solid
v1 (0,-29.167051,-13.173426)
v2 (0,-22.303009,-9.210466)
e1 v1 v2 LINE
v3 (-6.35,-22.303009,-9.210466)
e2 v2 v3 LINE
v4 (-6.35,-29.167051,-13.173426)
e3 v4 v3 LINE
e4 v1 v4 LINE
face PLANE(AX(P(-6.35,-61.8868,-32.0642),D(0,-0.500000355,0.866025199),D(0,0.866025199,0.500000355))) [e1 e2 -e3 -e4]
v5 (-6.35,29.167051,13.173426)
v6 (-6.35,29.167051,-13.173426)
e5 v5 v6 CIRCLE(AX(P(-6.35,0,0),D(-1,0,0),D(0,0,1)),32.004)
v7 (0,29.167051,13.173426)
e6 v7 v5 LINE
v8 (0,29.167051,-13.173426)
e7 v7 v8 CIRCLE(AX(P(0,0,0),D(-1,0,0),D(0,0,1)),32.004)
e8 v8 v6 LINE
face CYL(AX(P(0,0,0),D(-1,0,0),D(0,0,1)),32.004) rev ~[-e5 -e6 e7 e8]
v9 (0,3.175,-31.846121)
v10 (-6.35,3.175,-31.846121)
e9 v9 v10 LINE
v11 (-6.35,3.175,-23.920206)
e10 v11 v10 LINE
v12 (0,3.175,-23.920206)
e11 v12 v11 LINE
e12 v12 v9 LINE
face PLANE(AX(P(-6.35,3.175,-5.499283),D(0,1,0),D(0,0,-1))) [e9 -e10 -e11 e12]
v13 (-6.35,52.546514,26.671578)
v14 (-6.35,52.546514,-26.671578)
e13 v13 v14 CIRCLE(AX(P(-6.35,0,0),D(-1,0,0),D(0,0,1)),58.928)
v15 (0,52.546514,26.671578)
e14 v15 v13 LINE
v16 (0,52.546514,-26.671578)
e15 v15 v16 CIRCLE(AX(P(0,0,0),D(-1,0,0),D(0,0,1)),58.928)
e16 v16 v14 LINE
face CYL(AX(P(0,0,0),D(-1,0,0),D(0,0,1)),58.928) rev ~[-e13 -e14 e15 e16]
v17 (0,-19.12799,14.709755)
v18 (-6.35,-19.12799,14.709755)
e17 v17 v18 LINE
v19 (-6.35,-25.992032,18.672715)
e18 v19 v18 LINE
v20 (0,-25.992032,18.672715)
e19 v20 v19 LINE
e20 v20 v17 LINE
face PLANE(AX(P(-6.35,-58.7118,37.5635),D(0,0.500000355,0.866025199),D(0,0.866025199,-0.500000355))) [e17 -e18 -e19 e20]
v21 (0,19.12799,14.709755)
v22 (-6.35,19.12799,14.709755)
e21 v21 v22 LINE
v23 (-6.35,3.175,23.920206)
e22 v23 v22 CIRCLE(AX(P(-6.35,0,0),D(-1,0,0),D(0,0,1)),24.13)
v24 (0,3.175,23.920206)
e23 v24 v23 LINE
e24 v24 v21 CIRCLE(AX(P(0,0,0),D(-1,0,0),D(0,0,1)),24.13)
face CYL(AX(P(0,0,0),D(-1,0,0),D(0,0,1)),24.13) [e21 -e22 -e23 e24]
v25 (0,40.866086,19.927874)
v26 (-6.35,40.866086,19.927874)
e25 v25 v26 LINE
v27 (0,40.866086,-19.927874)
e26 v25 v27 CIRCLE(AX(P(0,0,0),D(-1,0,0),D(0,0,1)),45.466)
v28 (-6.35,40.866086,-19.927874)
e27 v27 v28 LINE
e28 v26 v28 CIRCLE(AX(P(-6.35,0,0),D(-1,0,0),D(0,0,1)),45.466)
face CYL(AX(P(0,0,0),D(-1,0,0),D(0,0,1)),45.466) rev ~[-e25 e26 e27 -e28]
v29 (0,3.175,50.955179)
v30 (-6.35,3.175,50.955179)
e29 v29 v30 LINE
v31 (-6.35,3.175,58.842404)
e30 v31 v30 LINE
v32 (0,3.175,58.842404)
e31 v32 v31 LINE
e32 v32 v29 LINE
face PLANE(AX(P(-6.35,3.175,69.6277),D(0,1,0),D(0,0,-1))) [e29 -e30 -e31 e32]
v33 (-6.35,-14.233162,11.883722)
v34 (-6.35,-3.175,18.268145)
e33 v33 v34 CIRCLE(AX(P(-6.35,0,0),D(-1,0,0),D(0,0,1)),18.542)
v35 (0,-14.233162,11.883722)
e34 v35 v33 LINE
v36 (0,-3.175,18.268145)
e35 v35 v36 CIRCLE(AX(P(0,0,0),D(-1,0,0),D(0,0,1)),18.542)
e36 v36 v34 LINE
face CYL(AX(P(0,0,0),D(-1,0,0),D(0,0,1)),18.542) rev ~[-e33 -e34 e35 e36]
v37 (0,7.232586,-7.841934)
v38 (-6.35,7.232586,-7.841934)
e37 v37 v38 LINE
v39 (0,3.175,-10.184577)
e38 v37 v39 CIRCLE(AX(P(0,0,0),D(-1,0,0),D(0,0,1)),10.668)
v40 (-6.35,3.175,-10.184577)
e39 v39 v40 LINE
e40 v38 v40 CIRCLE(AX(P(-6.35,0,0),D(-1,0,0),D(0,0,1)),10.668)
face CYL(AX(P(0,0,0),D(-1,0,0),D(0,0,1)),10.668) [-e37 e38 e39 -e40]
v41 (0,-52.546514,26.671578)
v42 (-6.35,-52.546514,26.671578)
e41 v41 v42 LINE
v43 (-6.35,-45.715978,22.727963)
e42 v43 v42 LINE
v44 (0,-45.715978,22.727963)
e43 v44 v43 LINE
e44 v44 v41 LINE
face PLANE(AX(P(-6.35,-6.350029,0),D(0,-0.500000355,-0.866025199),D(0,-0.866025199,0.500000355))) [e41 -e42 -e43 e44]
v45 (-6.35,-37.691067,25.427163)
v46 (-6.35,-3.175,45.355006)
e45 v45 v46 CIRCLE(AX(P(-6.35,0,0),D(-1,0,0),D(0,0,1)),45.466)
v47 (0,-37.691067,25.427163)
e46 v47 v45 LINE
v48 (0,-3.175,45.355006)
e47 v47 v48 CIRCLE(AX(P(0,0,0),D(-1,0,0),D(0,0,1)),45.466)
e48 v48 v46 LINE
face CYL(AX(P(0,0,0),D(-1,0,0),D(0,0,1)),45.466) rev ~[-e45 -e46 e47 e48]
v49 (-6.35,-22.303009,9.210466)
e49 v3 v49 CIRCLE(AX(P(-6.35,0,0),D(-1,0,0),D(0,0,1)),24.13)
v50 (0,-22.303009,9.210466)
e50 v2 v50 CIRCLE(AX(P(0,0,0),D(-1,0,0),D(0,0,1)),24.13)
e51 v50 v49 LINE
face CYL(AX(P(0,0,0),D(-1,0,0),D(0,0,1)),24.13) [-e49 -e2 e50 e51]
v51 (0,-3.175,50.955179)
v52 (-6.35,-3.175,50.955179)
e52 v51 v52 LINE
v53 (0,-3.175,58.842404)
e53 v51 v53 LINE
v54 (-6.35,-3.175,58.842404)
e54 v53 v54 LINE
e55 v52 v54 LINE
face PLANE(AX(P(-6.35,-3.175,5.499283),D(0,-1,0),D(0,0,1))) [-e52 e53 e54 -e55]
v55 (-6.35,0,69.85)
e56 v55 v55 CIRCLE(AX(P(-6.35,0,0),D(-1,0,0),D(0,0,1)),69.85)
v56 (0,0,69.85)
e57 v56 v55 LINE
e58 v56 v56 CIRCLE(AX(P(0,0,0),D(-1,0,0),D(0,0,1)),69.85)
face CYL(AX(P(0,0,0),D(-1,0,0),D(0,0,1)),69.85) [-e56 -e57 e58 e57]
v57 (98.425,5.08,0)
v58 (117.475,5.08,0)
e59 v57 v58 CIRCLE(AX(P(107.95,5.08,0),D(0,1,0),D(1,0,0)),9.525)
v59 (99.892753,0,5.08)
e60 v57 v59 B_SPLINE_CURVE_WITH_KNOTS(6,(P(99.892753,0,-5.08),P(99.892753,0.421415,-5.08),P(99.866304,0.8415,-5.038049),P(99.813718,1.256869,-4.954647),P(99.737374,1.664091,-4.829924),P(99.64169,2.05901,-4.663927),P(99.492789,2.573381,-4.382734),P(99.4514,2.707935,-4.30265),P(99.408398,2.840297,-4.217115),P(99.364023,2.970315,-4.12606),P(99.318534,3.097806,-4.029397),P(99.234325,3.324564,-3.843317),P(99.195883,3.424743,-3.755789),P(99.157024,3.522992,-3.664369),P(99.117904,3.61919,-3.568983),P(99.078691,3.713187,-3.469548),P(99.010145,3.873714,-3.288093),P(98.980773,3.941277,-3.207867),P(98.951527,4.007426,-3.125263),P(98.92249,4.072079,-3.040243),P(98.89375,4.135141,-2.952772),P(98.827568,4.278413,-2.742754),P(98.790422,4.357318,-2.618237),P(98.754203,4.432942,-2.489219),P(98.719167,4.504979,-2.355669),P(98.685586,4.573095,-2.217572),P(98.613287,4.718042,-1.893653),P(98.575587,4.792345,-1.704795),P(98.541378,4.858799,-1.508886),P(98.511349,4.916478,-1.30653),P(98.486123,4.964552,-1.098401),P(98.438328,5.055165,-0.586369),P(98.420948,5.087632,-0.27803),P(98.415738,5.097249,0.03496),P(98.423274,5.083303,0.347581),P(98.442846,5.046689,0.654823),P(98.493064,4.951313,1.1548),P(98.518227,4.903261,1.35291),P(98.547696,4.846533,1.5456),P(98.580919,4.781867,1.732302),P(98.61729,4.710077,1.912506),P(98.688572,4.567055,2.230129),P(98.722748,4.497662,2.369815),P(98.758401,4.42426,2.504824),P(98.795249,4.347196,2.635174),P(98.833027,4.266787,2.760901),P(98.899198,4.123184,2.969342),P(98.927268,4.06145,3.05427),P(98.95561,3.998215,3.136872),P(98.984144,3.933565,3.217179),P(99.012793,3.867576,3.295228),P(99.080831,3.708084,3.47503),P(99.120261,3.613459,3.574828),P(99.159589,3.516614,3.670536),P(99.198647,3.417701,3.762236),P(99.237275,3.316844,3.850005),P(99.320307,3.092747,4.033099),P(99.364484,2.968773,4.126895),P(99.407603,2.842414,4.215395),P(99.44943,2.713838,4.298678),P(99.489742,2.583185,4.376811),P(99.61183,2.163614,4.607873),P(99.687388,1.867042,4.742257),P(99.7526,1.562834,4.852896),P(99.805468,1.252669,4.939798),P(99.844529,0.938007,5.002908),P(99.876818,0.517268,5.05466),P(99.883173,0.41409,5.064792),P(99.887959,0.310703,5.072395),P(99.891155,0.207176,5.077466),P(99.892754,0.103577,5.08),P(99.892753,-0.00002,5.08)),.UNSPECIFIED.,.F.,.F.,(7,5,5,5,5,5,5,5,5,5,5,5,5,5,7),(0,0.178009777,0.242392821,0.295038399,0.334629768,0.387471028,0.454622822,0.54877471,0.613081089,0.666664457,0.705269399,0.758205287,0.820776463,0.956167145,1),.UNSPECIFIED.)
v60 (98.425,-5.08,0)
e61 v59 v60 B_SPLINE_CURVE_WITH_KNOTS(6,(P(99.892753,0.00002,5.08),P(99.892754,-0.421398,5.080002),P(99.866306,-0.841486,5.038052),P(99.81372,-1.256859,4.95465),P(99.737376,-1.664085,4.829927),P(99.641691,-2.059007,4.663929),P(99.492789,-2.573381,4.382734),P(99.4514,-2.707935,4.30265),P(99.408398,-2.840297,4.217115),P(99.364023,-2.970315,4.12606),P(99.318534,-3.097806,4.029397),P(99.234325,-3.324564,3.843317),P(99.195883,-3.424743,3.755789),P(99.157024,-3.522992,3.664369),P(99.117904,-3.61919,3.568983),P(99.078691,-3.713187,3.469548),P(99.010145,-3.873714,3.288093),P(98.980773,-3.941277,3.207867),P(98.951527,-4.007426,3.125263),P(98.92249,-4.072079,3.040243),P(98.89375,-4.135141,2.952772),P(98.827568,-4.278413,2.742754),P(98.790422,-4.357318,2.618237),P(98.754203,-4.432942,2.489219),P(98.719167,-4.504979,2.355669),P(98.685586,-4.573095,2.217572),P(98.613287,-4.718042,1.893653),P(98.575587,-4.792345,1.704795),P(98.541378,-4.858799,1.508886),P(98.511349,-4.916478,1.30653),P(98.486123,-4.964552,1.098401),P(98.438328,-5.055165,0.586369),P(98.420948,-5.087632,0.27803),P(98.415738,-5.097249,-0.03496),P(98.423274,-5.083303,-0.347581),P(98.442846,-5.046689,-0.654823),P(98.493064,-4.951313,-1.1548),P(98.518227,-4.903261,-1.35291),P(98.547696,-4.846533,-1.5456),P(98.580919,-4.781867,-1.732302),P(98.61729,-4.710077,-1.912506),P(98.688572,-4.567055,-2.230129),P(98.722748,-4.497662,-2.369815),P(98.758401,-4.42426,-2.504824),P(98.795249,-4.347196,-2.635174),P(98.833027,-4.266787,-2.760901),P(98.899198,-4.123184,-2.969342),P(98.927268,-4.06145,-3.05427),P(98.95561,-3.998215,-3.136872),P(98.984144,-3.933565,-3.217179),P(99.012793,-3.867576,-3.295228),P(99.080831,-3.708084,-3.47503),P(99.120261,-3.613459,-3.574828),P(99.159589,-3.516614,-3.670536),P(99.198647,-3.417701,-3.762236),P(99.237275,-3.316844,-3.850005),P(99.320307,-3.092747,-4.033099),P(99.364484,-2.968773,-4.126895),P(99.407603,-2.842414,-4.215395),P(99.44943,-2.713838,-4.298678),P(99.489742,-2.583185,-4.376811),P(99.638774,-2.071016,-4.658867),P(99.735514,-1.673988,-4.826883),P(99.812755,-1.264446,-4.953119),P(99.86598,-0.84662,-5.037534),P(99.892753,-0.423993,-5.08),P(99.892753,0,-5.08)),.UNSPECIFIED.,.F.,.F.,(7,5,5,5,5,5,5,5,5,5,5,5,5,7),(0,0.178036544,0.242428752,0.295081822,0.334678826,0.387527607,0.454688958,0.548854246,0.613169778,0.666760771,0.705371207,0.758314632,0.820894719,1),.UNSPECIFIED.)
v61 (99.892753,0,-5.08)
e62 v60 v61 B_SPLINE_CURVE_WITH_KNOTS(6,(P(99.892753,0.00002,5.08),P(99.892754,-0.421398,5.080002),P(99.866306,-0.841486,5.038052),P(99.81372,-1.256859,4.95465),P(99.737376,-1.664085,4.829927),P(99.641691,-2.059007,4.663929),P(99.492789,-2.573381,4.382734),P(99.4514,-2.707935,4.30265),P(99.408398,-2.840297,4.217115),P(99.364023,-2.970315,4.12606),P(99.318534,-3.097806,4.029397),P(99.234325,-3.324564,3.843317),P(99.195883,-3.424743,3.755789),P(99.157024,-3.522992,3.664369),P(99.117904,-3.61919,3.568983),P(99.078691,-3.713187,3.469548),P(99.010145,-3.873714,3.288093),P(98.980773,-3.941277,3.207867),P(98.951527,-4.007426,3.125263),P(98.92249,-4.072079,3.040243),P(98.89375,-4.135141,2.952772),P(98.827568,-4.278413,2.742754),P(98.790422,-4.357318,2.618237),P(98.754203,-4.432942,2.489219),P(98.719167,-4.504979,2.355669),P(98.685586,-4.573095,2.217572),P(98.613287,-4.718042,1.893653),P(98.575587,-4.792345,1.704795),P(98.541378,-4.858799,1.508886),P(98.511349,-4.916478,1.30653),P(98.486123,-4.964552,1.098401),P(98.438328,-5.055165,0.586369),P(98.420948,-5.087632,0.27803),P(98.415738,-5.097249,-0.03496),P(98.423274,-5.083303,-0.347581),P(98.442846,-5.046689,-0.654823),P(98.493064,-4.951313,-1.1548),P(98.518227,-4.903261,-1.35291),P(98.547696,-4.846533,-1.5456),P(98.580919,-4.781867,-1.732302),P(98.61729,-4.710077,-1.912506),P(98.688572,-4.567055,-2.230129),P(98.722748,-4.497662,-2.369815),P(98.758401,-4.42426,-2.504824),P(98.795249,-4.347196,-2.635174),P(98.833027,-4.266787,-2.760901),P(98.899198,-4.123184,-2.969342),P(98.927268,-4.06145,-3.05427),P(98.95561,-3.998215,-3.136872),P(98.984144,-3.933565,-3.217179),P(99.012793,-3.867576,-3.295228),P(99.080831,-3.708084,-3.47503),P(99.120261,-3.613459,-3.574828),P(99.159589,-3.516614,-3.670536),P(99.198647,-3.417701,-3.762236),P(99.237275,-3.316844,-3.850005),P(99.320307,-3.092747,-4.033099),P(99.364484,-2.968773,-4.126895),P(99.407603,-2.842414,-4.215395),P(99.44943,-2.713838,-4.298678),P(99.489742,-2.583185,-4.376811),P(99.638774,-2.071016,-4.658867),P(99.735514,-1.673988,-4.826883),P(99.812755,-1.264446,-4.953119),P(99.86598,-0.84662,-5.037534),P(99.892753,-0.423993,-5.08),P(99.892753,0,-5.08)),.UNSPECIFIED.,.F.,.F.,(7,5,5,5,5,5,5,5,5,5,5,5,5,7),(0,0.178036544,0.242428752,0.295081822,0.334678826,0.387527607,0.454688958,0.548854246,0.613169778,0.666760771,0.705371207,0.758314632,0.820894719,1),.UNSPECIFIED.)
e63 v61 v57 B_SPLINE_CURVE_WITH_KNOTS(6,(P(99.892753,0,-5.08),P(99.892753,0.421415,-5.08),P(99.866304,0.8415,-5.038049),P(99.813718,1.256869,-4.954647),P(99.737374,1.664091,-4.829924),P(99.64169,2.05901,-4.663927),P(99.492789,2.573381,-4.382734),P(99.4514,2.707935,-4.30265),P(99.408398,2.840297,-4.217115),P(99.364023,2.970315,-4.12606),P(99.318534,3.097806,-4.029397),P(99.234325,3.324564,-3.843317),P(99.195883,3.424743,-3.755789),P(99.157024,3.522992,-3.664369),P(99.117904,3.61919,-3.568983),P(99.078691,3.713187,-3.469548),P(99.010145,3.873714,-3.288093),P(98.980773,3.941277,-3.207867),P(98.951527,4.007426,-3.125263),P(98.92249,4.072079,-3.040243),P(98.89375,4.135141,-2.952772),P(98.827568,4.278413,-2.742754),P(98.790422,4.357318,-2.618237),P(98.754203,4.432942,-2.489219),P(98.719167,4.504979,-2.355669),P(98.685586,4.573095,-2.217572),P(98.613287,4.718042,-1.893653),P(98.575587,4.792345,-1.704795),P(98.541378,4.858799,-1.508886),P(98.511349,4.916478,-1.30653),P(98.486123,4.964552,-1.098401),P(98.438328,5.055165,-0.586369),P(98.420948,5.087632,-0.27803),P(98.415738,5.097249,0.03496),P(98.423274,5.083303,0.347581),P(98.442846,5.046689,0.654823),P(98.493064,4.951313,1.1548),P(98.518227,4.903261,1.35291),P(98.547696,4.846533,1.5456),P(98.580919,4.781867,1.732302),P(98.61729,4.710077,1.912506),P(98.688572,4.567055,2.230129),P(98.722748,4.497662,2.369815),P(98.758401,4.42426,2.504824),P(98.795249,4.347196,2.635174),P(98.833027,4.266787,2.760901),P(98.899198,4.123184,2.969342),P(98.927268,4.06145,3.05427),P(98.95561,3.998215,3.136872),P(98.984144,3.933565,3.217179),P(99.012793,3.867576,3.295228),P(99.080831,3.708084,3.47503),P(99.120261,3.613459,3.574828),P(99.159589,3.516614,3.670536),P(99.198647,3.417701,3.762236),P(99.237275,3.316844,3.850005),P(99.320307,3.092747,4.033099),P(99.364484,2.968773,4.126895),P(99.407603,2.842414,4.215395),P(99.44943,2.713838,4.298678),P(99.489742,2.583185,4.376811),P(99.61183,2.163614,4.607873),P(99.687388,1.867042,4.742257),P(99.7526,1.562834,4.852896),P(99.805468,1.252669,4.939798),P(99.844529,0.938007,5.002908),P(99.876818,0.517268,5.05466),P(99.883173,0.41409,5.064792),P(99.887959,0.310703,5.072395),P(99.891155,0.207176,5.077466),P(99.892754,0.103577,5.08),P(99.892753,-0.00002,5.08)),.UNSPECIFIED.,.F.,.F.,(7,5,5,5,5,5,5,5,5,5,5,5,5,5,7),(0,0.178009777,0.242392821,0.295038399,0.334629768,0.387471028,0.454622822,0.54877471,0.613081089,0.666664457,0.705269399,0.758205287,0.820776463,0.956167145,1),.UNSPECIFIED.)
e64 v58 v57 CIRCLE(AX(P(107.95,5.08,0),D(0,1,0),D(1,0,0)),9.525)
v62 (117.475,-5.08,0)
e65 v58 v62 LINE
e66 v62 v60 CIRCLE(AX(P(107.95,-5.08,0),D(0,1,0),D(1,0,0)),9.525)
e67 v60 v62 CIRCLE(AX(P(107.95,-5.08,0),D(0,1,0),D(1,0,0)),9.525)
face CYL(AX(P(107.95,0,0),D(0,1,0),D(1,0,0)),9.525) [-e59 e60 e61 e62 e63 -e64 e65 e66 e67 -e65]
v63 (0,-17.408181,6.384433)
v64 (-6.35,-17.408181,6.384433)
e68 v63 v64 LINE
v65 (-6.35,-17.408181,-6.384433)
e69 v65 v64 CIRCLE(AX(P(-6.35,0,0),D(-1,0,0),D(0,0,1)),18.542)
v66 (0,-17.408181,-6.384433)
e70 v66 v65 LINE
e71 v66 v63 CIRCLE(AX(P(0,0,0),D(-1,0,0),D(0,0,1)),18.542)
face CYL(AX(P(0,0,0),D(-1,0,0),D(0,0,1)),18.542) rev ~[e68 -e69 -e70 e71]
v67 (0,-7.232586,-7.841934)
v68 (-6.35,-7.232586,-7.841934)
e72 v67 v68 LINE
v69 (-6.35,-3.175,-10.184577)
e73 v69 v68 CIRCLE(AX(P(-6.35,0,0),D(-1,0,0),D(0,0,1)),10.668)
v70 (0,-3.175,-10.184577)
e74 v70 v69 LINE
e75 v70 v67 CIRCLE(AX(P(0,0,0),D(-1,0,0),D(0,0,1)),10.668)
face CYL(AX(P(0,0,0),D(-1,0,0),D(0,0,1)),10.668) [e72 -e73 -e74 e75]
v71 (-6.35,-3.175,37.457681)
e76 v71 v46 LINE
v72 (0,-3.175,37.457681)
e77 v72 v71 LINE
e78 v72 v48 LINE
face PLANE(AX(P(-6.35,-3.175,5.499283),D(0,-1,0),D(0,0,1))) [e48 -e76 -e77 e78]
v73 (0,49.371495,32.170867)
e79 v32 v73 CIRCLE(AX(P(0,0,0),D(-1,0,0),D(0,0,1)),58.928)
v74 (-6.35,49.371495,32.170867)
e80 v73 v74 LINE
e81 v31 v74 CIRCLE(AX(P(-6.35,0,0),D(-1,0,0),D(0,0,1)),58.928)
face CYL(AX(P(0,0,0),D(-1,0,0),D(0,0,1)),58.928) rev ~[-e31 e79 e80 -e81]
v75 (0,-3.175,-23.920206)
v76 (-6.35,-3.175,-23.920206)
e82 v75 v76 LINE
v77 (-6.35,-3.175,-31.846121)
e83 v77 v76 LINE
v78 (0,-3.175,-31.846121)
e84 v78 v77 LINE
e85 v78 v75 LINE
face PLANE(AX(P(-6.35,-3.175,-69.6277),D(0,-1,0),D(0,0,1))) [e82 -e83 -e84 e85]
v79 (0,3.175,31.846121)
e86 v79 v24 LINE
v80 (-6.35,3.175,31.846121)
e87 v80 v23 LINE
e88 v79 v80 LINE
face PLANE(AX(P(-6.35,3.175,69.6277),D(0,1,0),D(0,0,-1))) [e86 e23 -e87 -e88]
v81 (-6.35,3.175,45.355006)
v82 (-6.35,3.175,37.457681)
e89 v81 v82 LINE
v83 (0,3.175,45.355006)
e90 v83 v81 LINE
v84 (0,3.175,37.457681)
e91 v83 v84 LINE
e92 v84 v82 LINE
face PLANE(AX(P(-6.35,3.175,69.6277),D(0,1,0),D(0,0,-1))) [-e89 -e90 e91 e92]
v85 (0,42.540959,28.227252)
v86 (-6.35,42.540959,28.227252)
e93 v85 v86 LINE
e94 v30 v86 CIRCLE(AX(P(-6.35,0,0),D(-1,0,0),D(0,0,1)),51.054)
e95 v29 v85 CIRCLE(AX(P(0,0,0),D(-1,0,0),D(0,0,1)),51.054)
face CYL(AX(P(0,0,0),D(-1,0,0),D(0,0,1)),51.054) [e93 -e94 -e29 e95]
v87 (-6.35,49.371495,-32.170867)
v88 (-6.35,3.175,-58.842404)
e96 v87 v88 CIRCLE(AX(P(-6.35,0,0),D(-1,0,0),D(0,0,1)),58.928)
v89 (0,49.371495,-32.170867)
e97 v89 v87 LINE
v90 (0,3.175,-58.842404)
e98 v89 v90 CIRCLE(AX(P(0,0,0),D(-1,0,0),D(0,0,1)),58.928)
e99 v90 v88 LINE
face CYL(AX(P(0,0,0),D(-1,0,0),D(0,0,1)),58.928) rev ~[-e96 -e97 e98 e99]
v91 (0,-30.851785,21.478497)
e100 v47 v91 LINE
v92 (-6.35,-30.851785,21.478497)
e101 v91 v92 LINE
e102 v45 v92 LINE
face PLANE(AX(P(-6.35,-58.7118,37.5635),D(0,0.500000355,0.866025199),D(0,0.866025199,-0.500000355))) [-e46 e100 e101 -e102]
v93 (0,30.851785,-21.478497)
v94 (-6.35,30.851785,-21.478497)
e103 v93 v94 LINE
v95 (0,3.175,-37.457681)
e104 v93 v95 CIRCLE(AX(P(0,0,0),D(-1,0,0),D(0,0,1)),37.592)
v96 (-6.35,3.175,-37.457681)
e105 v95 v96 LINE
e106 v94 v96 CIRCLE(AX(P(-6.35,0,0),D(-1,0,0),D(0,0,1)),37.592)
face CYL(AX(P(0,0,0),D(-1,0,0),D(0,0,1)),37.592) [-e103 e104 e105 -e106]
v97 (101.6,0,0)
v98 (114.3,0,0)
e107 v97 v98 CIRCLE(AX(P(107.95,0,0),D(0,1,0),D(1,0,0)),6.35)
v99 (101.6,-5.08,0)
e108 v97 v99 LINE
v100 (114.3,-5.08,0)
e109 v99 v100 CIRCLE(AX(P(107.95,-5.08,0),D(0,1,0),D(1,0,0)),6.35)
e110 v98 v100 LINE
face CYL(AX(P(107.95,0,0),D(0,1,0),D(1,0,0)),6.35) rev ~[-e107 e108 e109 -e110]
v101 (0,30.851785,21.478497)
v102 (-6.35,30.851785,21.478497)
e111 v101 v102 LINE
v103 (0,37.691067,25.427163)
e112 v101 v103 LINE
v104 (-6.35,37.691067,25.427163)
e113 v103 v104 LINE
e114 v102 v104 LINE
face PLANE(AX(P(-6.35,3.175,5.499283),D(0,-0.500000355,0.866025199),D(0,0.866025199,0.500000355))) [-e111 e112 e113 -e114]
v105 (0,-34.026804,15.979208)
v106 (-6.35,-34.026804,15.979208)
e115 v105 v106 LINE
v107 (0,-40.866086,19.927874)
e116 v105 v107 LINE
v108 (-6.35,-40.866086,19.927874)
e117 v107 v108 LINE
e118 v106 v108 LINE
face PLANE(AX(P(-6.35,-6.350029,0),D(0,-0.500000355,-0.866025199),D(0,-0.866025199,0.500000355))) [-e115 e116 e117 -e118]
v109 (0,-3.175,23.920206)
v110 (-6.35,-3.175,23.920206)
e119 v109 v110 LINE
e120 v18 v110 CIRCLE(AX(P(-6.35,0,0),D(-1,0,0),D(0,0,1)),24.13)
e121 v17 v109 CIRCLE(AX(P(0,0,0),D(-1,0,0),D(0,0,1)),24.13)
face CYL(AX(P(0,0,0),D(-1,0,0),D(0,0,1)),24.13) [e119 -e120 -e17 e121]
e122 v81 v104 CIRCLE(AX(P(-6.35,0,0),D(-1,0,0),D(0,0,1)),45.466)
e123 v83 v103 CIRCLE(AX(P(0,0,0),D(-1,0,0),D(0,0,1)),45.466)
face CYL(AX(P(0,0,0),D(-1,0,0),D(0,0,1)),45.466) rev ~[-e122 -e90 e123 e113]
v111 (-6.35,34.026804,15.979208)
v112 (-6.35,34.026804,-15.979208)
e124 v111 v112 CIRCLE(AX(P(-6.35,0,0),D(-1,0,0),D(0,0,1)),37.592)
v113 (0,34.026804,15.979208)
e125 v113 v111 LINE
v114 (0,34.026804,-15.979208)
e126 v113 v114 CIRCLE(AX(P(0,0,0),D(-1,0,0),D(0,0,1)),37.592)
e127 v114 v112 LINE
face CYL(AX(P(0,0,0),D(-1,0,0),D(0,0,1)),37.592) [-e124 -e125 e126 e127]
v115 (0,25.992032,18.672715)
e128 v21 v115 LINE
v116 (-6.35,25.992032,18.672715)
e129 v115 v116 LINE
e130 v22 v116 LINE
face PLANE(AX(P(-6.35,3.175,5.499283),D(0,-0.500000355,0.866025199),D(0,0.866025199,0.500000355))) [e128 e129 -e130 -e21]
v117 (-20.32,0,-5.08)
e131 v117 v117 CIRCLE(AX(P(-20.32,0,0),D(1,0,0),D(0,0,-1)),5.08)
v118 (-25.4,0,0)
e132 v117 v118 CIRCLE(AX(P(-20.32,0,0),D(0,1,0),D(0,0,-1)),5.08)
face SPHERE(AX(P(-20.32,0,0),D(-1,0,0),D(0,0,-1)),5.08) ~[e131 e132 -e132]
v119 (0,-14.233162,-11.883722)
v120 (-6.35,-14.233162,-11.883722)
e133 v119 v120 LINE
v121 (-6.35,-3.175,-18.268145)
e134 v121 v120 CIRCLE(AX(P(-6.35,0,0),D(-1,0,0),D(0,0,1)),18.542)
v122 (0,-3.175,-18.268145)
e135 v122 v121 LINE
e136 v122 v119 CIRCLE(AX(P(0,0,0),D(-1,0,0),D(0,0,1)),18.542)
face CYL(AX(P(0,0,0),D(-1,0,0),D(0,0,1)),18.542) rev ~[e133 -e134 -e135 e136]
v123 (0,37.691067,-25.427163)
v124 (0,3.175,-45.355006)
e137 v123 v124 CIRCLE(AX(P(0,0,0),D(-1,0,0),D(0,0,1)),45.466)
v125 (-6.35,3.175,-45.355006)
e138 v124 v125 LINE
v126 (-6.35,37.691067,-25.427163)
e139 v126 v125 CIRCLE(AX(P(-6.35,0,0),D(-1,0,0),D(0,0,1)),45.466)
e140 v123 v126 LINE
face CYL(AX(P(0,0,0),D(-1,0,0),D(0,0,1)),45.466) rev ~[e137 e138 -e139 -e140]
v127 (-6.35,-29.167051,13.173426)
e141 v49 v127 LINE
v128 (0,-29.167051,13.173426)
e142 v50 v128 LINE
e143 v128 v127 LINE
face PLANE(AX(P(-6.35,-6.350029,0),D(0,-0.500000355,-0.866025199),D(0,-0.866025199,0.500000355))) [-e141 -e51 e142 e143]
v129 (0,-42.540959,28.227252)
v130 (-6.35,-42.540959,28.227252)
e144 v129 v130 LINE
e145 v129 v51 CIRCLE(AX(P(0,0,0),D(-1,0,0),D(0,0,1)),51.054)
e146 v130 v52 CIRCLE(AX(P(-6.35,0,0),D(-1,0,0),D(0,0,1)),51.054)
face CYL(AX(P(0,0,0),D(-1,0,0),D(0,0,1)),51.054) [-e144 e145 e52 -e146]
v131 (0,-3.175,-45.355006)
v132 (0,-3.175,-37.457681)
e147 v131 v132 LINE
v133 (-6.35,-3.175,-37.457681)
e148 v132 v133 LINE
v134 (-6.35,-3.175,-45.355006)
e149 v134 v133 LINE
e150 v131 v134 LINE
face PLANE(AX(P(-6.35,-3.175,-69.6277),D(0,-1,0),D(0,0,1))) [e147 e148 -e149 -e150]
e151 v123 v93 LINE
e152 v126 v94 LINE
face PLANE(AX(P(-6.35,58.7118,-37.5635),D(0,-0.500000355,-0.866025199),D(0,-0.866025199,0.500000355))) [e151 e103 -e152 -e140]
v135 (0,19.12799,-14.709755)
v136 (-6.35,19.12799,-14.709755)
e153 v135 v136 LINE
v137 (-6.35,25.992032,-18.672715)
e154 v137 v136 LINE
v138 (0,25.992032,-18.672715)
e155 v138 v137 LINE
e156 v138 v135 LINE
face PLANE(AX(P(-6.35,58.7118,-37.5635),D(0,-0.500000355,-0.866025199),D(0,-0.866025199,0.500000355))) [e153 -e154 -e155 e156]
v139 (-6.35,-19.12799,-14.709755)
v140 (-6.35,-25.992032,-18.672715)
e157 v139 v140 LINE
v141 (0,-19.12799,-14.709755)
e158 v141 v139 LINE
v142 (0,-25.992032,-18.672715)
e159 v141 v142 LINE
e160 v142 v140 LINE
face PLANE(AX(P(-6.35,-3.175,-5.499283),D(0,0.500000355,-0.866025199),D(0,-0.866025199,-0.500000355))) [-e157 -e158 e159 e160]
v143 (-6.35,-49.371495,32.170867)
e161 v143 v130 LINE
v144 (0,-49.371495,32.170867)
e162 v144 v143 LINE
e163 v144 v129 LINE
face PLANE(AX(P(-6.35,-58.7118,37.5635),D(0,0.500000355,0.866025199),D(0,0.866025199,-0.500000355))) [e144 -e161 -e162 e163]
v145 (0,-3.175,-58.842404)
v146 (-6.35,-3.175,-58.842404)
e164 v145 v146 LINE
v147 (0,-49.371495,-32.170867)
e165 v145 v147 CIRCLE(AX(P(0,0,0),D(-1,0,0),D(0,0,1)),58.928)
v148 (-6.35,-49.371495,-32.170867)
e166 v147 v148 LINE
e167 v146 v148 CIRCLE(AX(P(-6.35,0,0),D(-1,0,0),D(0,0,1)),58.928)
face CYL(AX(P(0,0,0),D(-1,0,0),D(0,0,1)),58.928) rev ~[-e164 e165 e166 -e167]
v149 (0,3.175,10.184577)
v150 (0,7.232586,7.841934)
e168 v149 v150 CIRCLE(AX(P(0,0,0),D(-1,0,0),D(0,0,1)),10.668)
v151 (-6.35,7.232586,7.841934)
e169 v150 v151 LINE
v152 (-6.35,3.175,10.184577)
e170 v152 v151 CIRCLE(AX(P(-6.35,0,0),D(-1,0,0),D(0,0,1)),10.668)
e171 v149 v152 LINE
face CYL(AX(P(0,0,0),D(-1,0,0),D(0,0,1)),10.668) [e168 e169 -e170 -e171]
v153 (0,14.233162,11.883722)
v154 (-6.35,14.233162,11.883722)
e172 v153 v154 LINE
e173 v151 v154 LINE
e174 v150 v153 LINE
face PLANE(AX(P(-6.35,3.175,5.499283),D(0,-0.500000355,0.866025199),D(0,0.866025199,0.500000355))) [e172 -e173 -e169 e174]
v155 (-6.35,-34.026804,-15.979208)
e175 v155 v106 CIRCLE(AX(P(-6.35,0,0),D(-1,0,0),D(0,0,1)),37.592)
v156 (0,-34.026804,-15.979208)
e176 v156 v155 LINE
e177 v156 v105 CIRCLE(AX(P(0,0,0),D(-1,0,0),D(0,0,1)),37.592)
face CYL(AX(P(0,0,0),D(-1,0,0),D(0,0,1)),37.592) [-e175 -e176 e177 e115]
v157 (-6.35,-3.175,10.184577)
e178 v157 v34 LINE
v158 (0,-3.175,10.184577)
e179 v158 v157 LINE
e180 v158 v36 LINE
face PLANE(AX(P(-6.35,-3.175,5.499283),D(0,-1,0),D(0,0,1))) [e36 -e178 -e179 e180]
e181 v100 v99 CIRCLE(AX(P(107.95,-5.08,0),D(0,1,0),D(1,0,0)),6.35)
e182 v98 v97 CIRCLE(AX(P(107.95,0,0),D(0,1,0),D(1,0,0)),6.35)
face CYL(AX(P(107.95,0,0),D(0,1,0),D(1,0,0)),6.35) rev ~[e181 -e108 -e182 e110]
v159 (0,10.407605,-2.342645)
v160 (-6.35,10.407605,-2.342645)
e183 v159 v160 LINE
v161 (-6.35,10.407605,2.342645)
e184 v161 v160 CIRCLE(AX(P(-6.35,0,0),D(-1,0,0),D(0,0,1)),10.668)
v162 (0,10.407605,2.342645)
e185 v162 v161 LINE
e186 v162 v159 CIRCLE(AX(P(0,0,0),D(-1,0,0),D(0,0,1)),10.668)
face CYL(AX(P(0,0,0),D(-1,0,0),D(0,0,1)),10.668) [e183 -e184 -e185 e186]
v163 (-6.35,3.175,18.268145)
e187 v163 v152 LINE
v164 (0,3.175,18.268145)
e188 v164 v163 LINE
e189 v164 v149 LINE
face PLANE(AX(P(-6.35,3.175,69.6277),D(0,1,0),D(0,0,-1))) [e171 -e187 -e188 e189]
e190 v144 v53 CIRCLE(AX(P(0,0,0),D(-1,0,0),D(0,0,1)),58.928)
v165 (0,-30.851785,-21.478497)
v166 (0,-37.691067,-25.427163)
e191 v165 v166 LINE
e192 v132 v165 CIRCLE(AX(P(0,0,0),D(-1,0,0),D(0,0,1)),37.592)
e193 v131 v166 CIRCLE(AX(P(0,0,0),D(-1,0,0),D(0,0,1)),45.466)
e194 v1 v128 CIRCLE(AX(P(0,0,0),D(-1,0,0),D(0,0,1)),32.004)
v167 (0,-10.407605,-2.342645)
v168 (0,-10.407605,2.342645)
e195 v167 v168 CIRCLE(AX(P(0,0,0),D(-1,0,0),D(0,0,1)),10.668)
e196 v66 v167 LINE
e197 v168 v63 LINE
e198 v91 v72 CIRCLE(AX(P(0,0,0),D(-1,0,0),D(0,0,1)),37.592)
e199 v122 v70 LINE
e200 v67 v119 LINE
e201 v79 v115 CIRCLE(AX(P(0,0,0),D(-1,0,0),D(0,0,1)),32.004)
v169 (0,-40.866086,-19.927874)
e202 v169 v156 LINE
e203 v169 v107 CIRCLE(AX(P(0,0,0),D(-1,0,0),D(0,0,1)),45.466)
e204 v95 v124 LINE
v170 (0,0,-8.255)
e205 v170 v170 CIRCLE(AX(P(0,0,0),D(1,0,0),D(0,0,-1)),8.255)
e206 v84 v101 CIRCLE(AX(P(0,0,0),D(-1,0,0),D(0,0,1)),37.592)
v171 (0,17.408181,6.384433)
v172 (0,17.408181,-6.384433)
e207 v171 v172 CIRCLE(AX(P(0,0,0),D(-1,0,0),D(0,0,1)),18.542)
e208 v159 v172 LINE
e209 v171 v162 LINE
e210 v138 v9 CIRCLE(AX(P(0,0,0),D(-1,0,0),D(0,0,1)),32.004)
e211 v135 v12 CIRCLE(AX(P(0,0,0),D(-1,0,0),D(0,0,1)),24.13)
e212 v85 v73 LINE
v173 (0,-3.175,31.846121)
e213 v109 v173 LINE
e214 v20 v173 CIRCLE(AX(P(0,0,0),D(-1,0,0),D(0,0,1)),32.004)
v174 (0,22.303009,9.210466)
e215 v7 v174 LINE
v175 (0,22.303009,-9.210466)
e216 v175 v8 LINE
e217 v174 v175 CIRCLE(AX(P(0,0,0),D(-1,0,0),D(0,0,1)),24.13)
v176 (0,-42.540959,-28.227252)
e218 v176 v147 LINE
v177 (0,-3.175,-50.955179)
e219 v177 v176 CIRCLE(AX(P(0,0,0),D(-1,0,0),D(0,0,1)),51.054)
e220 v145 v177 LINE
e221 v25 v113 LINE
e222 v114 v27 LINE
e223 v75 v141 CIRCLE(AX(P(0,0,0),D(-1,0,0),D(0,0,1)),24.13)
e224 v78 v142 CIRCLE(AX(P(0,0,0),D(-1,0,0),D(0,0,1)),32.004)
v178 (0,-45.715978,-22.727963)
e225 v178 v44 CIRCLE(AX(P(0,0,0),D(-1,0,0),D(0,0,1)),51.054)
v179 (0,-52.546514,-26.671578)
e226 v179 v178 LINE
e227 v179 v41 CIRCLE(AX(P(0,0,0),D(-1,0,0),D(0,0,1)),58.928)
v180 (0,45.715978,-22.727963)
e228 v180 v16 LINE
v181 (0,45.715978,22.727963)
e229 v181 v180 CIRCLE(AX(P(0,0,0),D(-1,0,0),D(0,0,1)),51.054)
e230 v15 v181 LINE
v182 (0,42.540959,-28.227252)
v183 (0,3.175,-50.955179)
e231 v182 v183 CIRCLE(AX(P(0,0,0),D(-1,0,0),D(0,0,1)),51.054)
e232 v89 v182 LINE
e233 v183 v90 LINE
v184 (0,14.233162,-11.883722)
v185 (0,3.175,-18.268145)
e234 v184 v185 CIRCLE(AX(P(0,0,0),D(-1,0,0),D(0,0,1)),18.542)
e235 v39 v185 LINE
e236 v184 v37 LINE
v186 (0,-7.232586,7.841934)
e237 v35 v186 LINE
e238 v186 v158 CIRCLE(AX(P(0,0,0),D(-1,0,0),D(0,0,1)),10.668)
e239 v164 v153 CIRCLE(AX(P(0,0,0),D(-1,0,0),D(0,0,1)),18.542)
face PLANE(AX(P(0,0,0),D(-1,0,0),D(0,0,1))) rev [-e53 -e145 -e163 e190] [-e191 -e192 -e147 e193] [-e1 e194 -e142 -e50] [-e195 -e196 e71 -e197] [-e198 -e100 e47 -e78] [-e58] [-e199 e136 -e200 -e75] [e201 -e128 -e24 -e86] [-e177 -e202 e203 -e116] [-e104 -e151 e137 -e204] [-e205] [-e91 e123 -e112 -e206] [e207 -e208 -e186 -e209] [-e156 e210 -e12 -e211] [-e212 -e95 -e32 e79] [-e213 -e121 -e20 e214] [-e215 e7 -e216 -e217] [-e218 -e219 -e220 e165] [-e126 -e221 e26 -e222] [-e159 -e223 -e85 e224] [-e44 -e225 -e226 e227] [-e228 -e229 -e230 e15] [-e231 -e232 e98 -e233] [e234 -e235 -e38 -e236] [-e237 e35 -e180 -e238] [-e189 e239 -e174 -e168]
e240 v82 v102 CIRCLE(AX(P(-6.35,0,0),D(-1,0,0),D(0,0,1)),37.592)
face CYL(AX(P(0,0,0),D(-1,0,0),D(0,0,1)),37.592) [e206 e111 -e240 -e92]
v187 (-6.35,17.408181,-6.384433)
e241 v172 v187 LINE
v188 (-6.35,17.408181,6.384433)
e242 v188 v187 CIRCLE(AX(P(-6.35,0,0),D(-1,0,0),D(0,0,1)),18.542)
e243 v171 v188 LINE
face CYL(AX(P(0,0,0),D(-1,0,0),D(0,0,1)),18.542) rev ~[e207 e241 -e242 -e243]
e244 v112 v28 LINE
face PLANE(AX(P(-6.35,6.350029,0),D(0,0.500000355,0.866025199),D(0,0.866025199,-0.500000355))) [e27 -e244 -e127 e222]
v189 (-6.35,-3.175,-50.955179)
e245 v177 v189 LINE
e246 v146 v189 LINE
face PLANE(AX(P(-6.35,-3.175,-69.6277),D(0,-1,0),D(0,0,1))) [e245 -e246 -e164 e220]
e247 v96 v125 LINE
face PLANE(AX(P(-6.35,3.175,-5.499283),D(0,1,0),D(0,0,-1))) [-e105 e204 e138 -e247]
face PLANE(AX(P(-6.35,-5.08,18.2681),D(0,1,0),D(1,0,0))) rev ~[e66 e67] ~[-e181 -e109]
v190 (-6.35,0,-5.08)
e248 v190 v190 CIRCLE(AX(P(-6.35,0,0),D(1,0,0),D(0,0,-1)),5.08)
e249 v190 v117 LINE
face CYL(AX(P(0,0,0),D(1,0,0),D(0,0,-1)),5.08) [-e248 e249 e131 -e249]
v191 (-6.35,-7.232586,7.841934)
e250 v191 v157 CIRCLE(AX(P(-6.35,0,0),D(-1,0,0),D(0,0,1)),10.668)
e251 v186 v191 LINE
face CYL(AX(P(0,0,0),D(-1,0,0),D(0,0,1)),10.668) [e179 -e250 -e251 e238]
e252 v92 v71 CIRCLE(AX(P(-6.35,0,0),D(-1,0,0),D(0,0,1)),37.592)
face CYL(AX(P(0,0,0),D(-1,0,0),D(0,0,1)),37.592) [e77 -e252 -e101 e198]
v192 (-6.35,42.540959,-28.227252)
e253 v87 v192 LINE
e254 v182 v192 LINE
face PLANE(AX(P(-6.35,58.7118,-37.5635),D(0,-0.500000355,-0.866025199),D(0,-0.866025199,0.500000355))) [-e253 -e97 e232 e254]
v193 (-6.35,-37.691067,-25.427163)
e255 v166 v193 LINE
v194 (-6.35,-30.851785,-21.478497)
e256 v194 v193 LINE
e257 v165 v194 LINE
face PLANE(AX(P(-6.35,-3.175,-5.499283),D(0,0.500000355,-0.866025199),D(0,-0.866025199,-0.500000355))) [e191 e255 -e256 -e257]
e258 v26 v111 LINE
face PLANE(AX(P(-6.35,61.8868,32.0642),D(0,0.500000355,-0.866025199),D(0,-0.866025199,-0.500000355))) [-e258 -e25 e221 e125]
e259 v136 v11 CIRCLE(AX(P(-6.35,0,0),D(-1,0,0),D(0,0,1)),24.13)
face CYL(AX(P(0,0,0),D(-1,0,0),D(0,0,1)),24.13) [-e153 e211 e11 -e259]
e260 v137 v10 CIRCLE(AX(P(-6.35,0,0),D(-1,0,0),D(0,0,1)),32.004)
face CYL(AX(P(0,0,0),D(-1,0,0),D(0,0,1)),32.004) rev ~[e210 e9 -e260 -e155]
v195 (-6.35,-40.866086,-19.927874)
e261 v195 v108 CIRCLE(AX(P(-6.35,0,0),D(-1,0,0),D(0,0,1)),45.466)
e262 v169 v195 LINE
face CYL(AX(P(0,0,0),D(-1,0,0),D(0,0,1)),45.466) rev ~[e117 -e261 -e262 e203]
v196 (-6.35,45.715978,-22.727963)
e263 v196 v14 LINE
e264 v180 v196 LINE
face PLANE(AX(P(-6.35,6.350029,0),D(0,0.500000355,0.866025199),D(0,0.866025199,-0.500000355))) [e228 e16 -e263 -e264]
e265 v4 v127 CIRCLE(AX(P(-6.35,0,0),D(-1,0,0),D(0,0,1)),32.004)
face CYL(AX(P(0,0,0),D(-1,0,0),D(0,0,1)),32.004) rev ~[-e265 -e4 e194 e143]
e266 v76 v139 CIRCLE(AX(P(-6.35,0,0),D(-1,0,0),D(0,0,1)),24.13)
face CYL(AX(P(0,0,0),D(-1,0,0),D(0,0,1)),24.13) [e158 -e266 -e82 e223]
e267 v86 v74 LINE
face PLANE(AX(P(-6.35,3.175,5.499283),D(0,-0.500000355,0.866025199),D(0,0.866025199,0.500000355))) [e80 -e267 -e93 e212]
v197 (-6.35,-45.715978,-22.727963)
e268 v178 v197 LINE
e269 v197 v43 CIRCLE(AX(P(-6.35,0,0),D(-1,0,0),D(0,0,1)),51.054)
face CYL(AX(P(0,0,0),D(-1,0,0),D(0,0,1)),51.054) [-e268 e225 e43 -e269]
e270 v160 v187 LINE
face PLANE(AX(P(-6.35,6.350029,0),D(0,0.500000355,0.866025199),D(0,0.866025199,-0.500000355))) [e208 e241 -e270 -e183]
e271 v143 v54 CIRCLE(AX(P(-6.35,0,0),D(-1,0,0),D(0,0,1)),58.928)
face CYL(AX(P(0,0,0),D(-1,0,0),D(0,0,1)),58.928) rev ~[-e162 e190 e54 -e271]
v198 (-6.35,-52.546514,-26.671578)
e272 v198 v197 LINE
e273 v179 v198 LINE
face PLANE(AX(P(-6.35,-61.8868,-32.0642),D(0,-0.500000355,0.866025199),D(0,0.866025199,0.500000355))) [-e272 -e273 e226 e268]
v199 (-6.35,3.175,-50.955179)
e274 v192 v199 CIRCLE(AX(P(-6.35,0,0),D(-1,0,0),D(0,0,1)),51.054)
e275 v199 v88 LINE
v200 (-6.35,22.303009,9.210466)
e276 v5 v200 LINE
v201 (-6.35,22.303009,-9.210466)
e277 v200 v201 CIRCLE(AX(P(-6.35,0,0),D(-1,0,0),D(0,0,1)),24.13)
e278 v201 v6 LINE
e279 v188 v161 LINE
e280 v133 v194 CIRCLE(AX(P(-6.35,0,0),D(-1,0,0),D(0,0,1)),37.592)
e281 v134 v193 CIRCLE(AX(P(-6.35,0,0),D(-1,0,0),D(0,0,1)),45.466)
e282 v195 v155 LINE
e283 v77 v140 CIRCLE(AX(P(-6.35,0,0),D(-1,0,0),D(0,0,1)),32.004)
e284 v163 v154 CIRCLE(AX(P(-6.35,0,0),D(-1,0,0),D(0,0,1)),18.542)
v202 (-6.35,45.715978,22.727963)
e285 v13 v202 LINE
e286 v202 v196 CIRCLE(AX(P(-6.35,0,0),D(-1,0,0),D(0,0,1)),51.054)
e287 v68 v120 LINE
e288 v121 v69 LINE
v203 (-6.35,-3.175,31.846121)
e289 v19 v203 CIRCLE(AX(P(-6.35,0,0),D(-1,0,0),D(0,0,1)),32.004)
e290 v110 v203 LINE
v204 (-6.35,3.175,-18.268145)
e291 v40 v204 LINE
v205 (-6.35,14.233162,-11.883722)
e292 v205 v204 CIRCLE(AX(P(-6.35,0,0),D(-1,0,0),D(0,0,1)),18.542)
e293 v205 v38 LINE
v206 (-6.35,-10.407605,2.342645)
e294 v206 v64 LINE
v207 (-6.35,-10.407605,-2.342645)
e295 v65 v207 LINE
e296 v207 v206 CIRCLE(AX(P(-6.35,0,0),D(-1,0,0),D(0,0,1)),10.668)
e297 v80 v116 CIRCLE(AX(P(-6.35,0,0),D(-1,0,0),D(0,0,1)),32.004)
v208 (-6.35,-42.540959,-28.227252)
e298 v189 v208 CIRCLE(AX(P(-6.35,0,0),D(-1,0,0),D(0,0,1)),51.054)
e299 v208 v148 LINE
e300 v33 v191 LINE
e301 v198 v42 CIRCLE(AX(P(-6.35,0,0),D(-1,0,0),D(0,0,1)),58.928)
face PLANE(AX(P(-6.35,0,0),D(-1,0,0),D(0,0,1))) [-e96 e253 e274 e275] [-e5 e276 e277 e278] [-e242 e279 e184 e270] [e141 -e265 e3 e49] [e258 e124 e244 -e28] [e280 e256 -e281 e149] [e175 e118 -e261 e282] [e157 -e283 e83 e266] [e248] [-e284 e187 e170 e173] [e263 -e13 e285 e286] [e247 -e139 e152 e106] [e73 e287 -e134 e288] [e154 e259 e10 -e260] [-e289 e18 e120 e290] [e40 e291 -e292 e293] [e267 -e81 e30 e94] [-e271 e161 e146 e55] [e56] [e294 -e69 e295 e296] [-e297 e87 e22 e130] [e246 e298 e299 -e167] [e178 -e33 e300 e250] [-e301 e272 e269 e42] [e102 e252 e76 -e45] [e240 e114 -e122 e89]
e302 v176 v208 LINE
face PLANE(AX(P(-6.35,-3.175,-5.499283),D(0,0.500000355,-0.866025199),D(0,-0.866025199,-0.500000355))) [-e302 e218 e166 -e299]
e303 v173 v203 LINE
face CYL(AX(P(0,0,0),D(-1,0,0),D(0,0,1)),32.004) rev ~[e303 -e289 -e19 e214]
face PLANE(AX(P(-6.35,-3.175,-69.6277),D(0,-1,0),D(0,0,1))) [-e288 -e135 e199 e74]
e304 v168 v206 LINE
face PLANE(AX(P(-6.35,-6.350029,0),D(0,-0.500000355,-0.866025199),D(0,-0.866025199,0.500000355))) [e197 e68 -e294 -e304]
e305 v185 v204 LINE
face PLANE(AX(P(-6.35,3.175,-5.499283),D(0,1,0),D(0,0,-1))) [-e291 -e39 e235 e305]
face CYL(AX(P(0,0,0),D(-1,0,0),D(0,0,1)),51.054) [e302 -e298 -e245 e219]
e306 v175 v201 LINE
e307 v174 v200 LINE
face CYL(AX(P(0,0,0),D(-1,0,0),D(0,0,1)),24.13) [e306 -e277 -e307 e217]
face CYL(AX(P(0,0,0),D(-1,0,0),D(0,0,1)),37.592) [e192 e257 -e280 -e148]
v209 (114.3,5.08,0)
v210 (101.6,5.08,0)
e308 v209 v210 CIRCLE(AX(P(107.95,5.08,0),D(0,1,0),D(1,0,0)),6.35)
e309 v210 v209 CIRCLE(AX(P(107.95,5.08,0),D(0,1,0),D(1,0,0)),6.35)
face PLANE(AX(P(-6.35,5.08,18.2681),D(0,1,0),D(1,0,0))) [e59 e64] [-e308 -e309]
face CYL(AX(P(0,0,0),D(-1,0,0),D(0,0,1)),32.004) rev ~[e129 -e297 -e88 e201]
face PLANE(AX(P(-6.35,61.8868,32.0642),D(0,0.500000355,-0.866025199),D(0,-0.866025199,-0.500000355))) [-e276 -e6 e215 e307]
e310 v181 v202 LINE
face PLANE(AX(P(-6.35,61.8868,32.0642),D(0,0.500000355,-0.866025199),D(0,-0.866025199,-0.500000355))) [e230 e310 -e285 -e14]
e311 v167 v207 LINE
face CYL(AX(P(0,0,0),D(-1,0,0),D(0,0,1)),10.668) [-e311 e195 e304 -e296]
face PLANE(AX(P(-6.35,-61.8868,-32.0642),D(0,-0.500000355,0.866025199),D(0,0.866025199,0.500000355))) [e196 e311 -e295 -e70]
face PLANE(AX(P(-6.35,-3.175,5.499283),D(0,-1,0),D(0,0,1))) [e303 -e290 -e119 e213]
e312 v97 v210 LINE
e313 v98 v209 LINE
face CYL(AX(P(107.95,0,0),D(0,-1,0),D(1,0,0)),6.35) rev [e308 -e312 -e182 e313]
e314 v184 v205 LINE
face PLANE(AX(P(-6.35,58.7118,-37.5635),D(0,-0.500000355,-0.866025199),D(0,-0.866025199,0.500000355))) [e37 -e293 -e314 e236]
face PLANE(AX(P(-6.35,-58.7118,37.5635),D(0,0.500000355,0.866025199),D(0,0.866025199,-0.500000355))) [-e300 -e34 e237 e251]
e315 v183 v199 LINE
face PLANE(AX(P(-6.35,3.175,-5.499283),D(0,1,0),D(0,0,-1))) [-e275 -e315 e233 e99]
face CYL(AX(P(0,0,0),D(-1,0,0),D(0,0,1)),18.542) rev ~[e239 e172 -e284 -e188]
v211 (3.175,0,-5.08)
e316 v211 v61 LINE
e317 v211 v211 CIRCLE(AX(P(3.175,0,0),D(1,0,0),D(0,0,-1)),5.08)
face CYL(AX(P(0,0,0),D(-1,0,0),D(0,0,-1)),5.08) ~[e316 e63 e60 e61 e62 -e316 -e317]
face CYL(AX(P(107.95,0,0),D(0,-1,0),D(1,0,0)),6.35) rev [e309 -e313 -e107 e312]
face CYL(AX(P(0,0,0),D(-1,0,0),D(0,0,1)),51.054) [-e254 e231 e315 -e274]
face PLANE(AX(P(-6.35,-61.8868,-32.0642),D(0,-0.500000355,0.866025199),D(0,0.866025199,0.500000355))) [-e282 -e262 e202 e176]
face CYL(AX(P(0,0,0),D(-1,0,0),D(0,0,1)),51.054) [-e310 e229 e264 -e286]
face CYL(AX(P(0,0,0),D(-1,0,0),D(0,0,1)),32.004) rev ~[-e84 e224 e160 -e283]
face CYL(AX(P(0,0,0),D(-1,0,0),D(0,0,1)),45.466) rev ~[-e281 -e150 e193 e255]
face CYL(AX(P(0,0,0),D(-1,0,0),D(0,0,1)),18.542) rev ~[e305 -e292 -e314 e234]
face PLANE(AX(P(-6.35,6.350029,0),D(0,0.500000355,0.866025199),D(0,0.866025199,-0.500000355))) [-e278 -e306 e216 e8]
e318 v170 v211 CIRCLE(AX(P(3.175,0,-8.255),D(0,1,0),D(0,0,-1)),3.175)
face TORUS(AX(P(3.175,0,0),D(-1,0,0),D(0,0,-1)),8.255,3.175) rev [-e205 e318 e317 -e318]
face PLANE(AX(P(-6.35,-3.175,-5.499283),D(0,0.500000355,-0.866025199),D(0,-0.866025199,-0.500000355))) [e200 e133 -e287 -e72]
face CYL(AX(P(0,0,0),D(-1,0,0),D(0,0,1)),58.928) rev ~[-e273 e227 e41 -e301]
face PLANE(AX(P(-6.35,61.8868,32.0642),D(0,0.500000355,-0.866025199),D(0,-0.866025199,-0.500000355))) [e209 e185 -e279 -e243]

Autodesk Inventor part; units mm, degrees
ref_plane "YZ Plane" through (0, 0, 0) normal (1, 0, 0) x (0, 1, 0)
ref_plane "XZ Plane" through (0, 0, 0) normal (0, 1, 0) x (-1, 0, 0)
ref_plane "XY Plane" through (0, 0, 0) normal (0, 0, 1) x (1, 0, 0)
sketch "Sketch1" plane through (0, 0, 0) normal (0, 1, 0) x (-1, 0, 0)
  line L0 (0, 5.08) -> (0, 10.668)
  line L1 (0, 0) -> (0, 10.668) construction
  line L2 (0, 10.668) -> (0, 18.542)
  line L3 (0, 18.542) -> (0, 24.13)
  line L4 (0, 24.13) -> (0, 32.004)
  line L5 (0, 32.004) -> (0, 37.592)
  line L6 (0, 37.592) -> (0, 45.466)
  line L7 (0, 45.466) -> (0, 51.054)
  line L8 (0, 51.054) -> (0, 58.928)
  line L9 (0, 58.928) -> (0, 66.802)
  line L10 (0, 0) -> (8.7387, 6.1189) construction
  line L11 (0, 0) -> (0, 18.542) construction
  line L12 (0, 0) -> (0, 24.13) construction
  line L13 (0, 0) -> (0, 32.004) construction
  line L14 (0, 0) -> (0, 37.592) construction
  line L15 (0, 0) -> (0, 45.466) construction
  line L16 (0, 0) -> (0, 51.054) construction
  line L17 (0, 0) -> (0, 58.928) construction
  line L18 (0, 0) -> (0, 66.802) construction
  line L19 (0, 0) -> (69.85, 0) construction
  line L20 (0, 0) -> (69.85, 0) construction
  line L21 (0, 66.802) -> (0, 69.85)
  line L22 (0, 0) -> (0, 5.08)
  line L23 (0, 69.85) -> (6.35, 69.85)
  line L24 (6.35, 69.85) -> (6.35, 0)
  line L25 (0, 5.08) -> (6.35, 5.08)
  line L26 (0, 10.668) -> (6.35, 10.668)
  line L27 (0, 18.542) -> (6.35, 18.542)
  line L28 (0, 24.13) -> (6.35, 24.13)
  line L29 (0, 32.004) -> (6.35, 32.004)
  line L30 (0, 37.592) -> (6.35, 37.592)
  line L31 (0, 45.466) -> (6.35, 45.466)
  line L32 (0, 51.054) -> (6.35, 51.054)
  line L33 (0, 58.928) -> (6.35, 58.928)
  dimension "d2" = 5.588
  dimension "d4" = 7.874
  dimension "d5" = 5.588
  dimension "d6" = 7.874
  dimension "d7" = 5.588
  dimension "d8" = 7.874
  dimension "d9" = 5.588
  dimension "d10" = 7.874
  dimension "d11" = 7.874
  dimension "d24" = 5.08
  dimension "d25" = 6.35
  dimension "d26" = 3.048
revolve "Revolution1" add sketch "Sketch1" angle 360 about axis through (0, 0, 0) along (-1, 0, 0) contours L0 L26 L24 L25 | L3 L28 L24 L27 | L5 L30 L24 L29 | L7 L32 L24 L31 | L9 L21 L23 L24 L33
sketch "Sketch2" plane through (-6.35, 0, 0) normal (-1, 0, 0) x (0, 0, 1)
  line L0 (69.6277, 3.175) -> (-69.6277, 3.175)
  line L1 (-69.6277, 3.175) -> (-69.6277, -3.175)
  line L2 (-69.6277, -3.175) -> (69.6277, -3.175)
  line L3 (69.6277, -3.175) -> (69.6277, 3.175)
  circle A0 centre (0, 0) radius 5.08 projected
  line L4 (69.6277, 3.175) -> (-69.6277, -3.175) construction
  line L5 (-69.6277, 3.175) -> (69.6277, -3.175) construction
  line L6 (32.0642, 61.8868) -> (-37.5635, -58.7118)
  line L7 (-32.0642, -61.8868) -> (37.5635, 58.7118)
  line L8 (-37.5635, -58.7118) -> (-32.0642, -61.8868)
  line L9 (37.5635, 58.7118) -> (32.0642, 61.8868)
  line L10 (37.5635, -58.7118) -> (-32.0642, 61.8868)
  line L11 (-37.5635, 58.7118) -> (32.0642, -61.8868)
  line L12 (-32.0642, 61.8868) -> (-37.5635, 58.7118)
  line L13 (32.0642, -61.8868) -> (37.5635, -58.7118)
  point P0 (-5.4993, 3.175)
  point P1 (-5.4993, -3.175)
  point P2 (0, -6.35)
  point P3 (5.4993, -3.175)
  point P4 (5.4993, 3.175)
  point P5 (0, 6.35)
  dimension "d28" = 6.35
  dimension "d31" = 360
extrude "Extrusion1" add sketch "Sketch2" against normal blind 6.35
sketch "Sketch3" plane through (0, 0, 0) normal (1, 0, 0) x (0, 0, -1)
  circle A0 centre (0, 0) radius 5.08
  dimension "d35" = 10.16
extrude "Extrusion2" add sketch "Sketch3" along normal blind 101.6 and the other way blind 25.4
fillet "Fillet3" radius 3.175 1 edges at (0, 0, 5.08)
fillet "Fillet4" radius 5.08 1 edges at (-25.4, 0, 5.08)
sketch "Sketch5" plane through (101.6, 0, 0) normal (1, 0, 0) x (0, 0, -1)
  circle A0 centre (0, 0) radius 5.08 projected
ref_plane "Work Plane1" through (-6.35, 0, 18.2681) normal (0, 1, 0) x (1, 0, 0)
sketch "Sketch6" plane through (-6.35, 0, 18.2681) normal (0, 1, 0) x (1, 0, 0)
  point P0 (6.35, 18.2681)
sketch "Sketch7" plane through (-6.35, 0, 18.2681) normal (0, 1, 0) x (1, 0, 0)
  line L0 (107.95, 13.1881) -> (107.95, 23.3481) projected
  line L1 (107.95, 18.2681) -> (114.3, 18.2681)
  circle A0 centre (114.3, 18.2681) radius 6.35
  circle A1 centre (114.3, 18.2681) radius 9.525
  point P0 (6.35, 18.2681)
  dimension "d50" = 6.35
  dimension "d51" = 19.05
extrude "Extrusion4" add sketch "Sketch7" along normal mid plane 10.16
sketch "Sketch8" plane through (107.95, 5.08, 0) normal (0, 1, 0) x (1, 0, 0)
  point P0 (-107.95, 0)
equation "\"d2\" = PR"
equation "\"d4\" = HR"
equation "\"d5\" = PR"
equation "\"d6\" = HR"
equation "\"d7\" = PR"
equation "\"d8\" = HR"
equation "\"d9\" = PR"
equation "\"d10\" = HR"
equation "\"d11\" = HR"
equation "\"HR\" = 7.874"
equation "\"PR\" = 5.588"
equation "\"HA\" = 55deg"
properties part number "full drain cover mk3"
